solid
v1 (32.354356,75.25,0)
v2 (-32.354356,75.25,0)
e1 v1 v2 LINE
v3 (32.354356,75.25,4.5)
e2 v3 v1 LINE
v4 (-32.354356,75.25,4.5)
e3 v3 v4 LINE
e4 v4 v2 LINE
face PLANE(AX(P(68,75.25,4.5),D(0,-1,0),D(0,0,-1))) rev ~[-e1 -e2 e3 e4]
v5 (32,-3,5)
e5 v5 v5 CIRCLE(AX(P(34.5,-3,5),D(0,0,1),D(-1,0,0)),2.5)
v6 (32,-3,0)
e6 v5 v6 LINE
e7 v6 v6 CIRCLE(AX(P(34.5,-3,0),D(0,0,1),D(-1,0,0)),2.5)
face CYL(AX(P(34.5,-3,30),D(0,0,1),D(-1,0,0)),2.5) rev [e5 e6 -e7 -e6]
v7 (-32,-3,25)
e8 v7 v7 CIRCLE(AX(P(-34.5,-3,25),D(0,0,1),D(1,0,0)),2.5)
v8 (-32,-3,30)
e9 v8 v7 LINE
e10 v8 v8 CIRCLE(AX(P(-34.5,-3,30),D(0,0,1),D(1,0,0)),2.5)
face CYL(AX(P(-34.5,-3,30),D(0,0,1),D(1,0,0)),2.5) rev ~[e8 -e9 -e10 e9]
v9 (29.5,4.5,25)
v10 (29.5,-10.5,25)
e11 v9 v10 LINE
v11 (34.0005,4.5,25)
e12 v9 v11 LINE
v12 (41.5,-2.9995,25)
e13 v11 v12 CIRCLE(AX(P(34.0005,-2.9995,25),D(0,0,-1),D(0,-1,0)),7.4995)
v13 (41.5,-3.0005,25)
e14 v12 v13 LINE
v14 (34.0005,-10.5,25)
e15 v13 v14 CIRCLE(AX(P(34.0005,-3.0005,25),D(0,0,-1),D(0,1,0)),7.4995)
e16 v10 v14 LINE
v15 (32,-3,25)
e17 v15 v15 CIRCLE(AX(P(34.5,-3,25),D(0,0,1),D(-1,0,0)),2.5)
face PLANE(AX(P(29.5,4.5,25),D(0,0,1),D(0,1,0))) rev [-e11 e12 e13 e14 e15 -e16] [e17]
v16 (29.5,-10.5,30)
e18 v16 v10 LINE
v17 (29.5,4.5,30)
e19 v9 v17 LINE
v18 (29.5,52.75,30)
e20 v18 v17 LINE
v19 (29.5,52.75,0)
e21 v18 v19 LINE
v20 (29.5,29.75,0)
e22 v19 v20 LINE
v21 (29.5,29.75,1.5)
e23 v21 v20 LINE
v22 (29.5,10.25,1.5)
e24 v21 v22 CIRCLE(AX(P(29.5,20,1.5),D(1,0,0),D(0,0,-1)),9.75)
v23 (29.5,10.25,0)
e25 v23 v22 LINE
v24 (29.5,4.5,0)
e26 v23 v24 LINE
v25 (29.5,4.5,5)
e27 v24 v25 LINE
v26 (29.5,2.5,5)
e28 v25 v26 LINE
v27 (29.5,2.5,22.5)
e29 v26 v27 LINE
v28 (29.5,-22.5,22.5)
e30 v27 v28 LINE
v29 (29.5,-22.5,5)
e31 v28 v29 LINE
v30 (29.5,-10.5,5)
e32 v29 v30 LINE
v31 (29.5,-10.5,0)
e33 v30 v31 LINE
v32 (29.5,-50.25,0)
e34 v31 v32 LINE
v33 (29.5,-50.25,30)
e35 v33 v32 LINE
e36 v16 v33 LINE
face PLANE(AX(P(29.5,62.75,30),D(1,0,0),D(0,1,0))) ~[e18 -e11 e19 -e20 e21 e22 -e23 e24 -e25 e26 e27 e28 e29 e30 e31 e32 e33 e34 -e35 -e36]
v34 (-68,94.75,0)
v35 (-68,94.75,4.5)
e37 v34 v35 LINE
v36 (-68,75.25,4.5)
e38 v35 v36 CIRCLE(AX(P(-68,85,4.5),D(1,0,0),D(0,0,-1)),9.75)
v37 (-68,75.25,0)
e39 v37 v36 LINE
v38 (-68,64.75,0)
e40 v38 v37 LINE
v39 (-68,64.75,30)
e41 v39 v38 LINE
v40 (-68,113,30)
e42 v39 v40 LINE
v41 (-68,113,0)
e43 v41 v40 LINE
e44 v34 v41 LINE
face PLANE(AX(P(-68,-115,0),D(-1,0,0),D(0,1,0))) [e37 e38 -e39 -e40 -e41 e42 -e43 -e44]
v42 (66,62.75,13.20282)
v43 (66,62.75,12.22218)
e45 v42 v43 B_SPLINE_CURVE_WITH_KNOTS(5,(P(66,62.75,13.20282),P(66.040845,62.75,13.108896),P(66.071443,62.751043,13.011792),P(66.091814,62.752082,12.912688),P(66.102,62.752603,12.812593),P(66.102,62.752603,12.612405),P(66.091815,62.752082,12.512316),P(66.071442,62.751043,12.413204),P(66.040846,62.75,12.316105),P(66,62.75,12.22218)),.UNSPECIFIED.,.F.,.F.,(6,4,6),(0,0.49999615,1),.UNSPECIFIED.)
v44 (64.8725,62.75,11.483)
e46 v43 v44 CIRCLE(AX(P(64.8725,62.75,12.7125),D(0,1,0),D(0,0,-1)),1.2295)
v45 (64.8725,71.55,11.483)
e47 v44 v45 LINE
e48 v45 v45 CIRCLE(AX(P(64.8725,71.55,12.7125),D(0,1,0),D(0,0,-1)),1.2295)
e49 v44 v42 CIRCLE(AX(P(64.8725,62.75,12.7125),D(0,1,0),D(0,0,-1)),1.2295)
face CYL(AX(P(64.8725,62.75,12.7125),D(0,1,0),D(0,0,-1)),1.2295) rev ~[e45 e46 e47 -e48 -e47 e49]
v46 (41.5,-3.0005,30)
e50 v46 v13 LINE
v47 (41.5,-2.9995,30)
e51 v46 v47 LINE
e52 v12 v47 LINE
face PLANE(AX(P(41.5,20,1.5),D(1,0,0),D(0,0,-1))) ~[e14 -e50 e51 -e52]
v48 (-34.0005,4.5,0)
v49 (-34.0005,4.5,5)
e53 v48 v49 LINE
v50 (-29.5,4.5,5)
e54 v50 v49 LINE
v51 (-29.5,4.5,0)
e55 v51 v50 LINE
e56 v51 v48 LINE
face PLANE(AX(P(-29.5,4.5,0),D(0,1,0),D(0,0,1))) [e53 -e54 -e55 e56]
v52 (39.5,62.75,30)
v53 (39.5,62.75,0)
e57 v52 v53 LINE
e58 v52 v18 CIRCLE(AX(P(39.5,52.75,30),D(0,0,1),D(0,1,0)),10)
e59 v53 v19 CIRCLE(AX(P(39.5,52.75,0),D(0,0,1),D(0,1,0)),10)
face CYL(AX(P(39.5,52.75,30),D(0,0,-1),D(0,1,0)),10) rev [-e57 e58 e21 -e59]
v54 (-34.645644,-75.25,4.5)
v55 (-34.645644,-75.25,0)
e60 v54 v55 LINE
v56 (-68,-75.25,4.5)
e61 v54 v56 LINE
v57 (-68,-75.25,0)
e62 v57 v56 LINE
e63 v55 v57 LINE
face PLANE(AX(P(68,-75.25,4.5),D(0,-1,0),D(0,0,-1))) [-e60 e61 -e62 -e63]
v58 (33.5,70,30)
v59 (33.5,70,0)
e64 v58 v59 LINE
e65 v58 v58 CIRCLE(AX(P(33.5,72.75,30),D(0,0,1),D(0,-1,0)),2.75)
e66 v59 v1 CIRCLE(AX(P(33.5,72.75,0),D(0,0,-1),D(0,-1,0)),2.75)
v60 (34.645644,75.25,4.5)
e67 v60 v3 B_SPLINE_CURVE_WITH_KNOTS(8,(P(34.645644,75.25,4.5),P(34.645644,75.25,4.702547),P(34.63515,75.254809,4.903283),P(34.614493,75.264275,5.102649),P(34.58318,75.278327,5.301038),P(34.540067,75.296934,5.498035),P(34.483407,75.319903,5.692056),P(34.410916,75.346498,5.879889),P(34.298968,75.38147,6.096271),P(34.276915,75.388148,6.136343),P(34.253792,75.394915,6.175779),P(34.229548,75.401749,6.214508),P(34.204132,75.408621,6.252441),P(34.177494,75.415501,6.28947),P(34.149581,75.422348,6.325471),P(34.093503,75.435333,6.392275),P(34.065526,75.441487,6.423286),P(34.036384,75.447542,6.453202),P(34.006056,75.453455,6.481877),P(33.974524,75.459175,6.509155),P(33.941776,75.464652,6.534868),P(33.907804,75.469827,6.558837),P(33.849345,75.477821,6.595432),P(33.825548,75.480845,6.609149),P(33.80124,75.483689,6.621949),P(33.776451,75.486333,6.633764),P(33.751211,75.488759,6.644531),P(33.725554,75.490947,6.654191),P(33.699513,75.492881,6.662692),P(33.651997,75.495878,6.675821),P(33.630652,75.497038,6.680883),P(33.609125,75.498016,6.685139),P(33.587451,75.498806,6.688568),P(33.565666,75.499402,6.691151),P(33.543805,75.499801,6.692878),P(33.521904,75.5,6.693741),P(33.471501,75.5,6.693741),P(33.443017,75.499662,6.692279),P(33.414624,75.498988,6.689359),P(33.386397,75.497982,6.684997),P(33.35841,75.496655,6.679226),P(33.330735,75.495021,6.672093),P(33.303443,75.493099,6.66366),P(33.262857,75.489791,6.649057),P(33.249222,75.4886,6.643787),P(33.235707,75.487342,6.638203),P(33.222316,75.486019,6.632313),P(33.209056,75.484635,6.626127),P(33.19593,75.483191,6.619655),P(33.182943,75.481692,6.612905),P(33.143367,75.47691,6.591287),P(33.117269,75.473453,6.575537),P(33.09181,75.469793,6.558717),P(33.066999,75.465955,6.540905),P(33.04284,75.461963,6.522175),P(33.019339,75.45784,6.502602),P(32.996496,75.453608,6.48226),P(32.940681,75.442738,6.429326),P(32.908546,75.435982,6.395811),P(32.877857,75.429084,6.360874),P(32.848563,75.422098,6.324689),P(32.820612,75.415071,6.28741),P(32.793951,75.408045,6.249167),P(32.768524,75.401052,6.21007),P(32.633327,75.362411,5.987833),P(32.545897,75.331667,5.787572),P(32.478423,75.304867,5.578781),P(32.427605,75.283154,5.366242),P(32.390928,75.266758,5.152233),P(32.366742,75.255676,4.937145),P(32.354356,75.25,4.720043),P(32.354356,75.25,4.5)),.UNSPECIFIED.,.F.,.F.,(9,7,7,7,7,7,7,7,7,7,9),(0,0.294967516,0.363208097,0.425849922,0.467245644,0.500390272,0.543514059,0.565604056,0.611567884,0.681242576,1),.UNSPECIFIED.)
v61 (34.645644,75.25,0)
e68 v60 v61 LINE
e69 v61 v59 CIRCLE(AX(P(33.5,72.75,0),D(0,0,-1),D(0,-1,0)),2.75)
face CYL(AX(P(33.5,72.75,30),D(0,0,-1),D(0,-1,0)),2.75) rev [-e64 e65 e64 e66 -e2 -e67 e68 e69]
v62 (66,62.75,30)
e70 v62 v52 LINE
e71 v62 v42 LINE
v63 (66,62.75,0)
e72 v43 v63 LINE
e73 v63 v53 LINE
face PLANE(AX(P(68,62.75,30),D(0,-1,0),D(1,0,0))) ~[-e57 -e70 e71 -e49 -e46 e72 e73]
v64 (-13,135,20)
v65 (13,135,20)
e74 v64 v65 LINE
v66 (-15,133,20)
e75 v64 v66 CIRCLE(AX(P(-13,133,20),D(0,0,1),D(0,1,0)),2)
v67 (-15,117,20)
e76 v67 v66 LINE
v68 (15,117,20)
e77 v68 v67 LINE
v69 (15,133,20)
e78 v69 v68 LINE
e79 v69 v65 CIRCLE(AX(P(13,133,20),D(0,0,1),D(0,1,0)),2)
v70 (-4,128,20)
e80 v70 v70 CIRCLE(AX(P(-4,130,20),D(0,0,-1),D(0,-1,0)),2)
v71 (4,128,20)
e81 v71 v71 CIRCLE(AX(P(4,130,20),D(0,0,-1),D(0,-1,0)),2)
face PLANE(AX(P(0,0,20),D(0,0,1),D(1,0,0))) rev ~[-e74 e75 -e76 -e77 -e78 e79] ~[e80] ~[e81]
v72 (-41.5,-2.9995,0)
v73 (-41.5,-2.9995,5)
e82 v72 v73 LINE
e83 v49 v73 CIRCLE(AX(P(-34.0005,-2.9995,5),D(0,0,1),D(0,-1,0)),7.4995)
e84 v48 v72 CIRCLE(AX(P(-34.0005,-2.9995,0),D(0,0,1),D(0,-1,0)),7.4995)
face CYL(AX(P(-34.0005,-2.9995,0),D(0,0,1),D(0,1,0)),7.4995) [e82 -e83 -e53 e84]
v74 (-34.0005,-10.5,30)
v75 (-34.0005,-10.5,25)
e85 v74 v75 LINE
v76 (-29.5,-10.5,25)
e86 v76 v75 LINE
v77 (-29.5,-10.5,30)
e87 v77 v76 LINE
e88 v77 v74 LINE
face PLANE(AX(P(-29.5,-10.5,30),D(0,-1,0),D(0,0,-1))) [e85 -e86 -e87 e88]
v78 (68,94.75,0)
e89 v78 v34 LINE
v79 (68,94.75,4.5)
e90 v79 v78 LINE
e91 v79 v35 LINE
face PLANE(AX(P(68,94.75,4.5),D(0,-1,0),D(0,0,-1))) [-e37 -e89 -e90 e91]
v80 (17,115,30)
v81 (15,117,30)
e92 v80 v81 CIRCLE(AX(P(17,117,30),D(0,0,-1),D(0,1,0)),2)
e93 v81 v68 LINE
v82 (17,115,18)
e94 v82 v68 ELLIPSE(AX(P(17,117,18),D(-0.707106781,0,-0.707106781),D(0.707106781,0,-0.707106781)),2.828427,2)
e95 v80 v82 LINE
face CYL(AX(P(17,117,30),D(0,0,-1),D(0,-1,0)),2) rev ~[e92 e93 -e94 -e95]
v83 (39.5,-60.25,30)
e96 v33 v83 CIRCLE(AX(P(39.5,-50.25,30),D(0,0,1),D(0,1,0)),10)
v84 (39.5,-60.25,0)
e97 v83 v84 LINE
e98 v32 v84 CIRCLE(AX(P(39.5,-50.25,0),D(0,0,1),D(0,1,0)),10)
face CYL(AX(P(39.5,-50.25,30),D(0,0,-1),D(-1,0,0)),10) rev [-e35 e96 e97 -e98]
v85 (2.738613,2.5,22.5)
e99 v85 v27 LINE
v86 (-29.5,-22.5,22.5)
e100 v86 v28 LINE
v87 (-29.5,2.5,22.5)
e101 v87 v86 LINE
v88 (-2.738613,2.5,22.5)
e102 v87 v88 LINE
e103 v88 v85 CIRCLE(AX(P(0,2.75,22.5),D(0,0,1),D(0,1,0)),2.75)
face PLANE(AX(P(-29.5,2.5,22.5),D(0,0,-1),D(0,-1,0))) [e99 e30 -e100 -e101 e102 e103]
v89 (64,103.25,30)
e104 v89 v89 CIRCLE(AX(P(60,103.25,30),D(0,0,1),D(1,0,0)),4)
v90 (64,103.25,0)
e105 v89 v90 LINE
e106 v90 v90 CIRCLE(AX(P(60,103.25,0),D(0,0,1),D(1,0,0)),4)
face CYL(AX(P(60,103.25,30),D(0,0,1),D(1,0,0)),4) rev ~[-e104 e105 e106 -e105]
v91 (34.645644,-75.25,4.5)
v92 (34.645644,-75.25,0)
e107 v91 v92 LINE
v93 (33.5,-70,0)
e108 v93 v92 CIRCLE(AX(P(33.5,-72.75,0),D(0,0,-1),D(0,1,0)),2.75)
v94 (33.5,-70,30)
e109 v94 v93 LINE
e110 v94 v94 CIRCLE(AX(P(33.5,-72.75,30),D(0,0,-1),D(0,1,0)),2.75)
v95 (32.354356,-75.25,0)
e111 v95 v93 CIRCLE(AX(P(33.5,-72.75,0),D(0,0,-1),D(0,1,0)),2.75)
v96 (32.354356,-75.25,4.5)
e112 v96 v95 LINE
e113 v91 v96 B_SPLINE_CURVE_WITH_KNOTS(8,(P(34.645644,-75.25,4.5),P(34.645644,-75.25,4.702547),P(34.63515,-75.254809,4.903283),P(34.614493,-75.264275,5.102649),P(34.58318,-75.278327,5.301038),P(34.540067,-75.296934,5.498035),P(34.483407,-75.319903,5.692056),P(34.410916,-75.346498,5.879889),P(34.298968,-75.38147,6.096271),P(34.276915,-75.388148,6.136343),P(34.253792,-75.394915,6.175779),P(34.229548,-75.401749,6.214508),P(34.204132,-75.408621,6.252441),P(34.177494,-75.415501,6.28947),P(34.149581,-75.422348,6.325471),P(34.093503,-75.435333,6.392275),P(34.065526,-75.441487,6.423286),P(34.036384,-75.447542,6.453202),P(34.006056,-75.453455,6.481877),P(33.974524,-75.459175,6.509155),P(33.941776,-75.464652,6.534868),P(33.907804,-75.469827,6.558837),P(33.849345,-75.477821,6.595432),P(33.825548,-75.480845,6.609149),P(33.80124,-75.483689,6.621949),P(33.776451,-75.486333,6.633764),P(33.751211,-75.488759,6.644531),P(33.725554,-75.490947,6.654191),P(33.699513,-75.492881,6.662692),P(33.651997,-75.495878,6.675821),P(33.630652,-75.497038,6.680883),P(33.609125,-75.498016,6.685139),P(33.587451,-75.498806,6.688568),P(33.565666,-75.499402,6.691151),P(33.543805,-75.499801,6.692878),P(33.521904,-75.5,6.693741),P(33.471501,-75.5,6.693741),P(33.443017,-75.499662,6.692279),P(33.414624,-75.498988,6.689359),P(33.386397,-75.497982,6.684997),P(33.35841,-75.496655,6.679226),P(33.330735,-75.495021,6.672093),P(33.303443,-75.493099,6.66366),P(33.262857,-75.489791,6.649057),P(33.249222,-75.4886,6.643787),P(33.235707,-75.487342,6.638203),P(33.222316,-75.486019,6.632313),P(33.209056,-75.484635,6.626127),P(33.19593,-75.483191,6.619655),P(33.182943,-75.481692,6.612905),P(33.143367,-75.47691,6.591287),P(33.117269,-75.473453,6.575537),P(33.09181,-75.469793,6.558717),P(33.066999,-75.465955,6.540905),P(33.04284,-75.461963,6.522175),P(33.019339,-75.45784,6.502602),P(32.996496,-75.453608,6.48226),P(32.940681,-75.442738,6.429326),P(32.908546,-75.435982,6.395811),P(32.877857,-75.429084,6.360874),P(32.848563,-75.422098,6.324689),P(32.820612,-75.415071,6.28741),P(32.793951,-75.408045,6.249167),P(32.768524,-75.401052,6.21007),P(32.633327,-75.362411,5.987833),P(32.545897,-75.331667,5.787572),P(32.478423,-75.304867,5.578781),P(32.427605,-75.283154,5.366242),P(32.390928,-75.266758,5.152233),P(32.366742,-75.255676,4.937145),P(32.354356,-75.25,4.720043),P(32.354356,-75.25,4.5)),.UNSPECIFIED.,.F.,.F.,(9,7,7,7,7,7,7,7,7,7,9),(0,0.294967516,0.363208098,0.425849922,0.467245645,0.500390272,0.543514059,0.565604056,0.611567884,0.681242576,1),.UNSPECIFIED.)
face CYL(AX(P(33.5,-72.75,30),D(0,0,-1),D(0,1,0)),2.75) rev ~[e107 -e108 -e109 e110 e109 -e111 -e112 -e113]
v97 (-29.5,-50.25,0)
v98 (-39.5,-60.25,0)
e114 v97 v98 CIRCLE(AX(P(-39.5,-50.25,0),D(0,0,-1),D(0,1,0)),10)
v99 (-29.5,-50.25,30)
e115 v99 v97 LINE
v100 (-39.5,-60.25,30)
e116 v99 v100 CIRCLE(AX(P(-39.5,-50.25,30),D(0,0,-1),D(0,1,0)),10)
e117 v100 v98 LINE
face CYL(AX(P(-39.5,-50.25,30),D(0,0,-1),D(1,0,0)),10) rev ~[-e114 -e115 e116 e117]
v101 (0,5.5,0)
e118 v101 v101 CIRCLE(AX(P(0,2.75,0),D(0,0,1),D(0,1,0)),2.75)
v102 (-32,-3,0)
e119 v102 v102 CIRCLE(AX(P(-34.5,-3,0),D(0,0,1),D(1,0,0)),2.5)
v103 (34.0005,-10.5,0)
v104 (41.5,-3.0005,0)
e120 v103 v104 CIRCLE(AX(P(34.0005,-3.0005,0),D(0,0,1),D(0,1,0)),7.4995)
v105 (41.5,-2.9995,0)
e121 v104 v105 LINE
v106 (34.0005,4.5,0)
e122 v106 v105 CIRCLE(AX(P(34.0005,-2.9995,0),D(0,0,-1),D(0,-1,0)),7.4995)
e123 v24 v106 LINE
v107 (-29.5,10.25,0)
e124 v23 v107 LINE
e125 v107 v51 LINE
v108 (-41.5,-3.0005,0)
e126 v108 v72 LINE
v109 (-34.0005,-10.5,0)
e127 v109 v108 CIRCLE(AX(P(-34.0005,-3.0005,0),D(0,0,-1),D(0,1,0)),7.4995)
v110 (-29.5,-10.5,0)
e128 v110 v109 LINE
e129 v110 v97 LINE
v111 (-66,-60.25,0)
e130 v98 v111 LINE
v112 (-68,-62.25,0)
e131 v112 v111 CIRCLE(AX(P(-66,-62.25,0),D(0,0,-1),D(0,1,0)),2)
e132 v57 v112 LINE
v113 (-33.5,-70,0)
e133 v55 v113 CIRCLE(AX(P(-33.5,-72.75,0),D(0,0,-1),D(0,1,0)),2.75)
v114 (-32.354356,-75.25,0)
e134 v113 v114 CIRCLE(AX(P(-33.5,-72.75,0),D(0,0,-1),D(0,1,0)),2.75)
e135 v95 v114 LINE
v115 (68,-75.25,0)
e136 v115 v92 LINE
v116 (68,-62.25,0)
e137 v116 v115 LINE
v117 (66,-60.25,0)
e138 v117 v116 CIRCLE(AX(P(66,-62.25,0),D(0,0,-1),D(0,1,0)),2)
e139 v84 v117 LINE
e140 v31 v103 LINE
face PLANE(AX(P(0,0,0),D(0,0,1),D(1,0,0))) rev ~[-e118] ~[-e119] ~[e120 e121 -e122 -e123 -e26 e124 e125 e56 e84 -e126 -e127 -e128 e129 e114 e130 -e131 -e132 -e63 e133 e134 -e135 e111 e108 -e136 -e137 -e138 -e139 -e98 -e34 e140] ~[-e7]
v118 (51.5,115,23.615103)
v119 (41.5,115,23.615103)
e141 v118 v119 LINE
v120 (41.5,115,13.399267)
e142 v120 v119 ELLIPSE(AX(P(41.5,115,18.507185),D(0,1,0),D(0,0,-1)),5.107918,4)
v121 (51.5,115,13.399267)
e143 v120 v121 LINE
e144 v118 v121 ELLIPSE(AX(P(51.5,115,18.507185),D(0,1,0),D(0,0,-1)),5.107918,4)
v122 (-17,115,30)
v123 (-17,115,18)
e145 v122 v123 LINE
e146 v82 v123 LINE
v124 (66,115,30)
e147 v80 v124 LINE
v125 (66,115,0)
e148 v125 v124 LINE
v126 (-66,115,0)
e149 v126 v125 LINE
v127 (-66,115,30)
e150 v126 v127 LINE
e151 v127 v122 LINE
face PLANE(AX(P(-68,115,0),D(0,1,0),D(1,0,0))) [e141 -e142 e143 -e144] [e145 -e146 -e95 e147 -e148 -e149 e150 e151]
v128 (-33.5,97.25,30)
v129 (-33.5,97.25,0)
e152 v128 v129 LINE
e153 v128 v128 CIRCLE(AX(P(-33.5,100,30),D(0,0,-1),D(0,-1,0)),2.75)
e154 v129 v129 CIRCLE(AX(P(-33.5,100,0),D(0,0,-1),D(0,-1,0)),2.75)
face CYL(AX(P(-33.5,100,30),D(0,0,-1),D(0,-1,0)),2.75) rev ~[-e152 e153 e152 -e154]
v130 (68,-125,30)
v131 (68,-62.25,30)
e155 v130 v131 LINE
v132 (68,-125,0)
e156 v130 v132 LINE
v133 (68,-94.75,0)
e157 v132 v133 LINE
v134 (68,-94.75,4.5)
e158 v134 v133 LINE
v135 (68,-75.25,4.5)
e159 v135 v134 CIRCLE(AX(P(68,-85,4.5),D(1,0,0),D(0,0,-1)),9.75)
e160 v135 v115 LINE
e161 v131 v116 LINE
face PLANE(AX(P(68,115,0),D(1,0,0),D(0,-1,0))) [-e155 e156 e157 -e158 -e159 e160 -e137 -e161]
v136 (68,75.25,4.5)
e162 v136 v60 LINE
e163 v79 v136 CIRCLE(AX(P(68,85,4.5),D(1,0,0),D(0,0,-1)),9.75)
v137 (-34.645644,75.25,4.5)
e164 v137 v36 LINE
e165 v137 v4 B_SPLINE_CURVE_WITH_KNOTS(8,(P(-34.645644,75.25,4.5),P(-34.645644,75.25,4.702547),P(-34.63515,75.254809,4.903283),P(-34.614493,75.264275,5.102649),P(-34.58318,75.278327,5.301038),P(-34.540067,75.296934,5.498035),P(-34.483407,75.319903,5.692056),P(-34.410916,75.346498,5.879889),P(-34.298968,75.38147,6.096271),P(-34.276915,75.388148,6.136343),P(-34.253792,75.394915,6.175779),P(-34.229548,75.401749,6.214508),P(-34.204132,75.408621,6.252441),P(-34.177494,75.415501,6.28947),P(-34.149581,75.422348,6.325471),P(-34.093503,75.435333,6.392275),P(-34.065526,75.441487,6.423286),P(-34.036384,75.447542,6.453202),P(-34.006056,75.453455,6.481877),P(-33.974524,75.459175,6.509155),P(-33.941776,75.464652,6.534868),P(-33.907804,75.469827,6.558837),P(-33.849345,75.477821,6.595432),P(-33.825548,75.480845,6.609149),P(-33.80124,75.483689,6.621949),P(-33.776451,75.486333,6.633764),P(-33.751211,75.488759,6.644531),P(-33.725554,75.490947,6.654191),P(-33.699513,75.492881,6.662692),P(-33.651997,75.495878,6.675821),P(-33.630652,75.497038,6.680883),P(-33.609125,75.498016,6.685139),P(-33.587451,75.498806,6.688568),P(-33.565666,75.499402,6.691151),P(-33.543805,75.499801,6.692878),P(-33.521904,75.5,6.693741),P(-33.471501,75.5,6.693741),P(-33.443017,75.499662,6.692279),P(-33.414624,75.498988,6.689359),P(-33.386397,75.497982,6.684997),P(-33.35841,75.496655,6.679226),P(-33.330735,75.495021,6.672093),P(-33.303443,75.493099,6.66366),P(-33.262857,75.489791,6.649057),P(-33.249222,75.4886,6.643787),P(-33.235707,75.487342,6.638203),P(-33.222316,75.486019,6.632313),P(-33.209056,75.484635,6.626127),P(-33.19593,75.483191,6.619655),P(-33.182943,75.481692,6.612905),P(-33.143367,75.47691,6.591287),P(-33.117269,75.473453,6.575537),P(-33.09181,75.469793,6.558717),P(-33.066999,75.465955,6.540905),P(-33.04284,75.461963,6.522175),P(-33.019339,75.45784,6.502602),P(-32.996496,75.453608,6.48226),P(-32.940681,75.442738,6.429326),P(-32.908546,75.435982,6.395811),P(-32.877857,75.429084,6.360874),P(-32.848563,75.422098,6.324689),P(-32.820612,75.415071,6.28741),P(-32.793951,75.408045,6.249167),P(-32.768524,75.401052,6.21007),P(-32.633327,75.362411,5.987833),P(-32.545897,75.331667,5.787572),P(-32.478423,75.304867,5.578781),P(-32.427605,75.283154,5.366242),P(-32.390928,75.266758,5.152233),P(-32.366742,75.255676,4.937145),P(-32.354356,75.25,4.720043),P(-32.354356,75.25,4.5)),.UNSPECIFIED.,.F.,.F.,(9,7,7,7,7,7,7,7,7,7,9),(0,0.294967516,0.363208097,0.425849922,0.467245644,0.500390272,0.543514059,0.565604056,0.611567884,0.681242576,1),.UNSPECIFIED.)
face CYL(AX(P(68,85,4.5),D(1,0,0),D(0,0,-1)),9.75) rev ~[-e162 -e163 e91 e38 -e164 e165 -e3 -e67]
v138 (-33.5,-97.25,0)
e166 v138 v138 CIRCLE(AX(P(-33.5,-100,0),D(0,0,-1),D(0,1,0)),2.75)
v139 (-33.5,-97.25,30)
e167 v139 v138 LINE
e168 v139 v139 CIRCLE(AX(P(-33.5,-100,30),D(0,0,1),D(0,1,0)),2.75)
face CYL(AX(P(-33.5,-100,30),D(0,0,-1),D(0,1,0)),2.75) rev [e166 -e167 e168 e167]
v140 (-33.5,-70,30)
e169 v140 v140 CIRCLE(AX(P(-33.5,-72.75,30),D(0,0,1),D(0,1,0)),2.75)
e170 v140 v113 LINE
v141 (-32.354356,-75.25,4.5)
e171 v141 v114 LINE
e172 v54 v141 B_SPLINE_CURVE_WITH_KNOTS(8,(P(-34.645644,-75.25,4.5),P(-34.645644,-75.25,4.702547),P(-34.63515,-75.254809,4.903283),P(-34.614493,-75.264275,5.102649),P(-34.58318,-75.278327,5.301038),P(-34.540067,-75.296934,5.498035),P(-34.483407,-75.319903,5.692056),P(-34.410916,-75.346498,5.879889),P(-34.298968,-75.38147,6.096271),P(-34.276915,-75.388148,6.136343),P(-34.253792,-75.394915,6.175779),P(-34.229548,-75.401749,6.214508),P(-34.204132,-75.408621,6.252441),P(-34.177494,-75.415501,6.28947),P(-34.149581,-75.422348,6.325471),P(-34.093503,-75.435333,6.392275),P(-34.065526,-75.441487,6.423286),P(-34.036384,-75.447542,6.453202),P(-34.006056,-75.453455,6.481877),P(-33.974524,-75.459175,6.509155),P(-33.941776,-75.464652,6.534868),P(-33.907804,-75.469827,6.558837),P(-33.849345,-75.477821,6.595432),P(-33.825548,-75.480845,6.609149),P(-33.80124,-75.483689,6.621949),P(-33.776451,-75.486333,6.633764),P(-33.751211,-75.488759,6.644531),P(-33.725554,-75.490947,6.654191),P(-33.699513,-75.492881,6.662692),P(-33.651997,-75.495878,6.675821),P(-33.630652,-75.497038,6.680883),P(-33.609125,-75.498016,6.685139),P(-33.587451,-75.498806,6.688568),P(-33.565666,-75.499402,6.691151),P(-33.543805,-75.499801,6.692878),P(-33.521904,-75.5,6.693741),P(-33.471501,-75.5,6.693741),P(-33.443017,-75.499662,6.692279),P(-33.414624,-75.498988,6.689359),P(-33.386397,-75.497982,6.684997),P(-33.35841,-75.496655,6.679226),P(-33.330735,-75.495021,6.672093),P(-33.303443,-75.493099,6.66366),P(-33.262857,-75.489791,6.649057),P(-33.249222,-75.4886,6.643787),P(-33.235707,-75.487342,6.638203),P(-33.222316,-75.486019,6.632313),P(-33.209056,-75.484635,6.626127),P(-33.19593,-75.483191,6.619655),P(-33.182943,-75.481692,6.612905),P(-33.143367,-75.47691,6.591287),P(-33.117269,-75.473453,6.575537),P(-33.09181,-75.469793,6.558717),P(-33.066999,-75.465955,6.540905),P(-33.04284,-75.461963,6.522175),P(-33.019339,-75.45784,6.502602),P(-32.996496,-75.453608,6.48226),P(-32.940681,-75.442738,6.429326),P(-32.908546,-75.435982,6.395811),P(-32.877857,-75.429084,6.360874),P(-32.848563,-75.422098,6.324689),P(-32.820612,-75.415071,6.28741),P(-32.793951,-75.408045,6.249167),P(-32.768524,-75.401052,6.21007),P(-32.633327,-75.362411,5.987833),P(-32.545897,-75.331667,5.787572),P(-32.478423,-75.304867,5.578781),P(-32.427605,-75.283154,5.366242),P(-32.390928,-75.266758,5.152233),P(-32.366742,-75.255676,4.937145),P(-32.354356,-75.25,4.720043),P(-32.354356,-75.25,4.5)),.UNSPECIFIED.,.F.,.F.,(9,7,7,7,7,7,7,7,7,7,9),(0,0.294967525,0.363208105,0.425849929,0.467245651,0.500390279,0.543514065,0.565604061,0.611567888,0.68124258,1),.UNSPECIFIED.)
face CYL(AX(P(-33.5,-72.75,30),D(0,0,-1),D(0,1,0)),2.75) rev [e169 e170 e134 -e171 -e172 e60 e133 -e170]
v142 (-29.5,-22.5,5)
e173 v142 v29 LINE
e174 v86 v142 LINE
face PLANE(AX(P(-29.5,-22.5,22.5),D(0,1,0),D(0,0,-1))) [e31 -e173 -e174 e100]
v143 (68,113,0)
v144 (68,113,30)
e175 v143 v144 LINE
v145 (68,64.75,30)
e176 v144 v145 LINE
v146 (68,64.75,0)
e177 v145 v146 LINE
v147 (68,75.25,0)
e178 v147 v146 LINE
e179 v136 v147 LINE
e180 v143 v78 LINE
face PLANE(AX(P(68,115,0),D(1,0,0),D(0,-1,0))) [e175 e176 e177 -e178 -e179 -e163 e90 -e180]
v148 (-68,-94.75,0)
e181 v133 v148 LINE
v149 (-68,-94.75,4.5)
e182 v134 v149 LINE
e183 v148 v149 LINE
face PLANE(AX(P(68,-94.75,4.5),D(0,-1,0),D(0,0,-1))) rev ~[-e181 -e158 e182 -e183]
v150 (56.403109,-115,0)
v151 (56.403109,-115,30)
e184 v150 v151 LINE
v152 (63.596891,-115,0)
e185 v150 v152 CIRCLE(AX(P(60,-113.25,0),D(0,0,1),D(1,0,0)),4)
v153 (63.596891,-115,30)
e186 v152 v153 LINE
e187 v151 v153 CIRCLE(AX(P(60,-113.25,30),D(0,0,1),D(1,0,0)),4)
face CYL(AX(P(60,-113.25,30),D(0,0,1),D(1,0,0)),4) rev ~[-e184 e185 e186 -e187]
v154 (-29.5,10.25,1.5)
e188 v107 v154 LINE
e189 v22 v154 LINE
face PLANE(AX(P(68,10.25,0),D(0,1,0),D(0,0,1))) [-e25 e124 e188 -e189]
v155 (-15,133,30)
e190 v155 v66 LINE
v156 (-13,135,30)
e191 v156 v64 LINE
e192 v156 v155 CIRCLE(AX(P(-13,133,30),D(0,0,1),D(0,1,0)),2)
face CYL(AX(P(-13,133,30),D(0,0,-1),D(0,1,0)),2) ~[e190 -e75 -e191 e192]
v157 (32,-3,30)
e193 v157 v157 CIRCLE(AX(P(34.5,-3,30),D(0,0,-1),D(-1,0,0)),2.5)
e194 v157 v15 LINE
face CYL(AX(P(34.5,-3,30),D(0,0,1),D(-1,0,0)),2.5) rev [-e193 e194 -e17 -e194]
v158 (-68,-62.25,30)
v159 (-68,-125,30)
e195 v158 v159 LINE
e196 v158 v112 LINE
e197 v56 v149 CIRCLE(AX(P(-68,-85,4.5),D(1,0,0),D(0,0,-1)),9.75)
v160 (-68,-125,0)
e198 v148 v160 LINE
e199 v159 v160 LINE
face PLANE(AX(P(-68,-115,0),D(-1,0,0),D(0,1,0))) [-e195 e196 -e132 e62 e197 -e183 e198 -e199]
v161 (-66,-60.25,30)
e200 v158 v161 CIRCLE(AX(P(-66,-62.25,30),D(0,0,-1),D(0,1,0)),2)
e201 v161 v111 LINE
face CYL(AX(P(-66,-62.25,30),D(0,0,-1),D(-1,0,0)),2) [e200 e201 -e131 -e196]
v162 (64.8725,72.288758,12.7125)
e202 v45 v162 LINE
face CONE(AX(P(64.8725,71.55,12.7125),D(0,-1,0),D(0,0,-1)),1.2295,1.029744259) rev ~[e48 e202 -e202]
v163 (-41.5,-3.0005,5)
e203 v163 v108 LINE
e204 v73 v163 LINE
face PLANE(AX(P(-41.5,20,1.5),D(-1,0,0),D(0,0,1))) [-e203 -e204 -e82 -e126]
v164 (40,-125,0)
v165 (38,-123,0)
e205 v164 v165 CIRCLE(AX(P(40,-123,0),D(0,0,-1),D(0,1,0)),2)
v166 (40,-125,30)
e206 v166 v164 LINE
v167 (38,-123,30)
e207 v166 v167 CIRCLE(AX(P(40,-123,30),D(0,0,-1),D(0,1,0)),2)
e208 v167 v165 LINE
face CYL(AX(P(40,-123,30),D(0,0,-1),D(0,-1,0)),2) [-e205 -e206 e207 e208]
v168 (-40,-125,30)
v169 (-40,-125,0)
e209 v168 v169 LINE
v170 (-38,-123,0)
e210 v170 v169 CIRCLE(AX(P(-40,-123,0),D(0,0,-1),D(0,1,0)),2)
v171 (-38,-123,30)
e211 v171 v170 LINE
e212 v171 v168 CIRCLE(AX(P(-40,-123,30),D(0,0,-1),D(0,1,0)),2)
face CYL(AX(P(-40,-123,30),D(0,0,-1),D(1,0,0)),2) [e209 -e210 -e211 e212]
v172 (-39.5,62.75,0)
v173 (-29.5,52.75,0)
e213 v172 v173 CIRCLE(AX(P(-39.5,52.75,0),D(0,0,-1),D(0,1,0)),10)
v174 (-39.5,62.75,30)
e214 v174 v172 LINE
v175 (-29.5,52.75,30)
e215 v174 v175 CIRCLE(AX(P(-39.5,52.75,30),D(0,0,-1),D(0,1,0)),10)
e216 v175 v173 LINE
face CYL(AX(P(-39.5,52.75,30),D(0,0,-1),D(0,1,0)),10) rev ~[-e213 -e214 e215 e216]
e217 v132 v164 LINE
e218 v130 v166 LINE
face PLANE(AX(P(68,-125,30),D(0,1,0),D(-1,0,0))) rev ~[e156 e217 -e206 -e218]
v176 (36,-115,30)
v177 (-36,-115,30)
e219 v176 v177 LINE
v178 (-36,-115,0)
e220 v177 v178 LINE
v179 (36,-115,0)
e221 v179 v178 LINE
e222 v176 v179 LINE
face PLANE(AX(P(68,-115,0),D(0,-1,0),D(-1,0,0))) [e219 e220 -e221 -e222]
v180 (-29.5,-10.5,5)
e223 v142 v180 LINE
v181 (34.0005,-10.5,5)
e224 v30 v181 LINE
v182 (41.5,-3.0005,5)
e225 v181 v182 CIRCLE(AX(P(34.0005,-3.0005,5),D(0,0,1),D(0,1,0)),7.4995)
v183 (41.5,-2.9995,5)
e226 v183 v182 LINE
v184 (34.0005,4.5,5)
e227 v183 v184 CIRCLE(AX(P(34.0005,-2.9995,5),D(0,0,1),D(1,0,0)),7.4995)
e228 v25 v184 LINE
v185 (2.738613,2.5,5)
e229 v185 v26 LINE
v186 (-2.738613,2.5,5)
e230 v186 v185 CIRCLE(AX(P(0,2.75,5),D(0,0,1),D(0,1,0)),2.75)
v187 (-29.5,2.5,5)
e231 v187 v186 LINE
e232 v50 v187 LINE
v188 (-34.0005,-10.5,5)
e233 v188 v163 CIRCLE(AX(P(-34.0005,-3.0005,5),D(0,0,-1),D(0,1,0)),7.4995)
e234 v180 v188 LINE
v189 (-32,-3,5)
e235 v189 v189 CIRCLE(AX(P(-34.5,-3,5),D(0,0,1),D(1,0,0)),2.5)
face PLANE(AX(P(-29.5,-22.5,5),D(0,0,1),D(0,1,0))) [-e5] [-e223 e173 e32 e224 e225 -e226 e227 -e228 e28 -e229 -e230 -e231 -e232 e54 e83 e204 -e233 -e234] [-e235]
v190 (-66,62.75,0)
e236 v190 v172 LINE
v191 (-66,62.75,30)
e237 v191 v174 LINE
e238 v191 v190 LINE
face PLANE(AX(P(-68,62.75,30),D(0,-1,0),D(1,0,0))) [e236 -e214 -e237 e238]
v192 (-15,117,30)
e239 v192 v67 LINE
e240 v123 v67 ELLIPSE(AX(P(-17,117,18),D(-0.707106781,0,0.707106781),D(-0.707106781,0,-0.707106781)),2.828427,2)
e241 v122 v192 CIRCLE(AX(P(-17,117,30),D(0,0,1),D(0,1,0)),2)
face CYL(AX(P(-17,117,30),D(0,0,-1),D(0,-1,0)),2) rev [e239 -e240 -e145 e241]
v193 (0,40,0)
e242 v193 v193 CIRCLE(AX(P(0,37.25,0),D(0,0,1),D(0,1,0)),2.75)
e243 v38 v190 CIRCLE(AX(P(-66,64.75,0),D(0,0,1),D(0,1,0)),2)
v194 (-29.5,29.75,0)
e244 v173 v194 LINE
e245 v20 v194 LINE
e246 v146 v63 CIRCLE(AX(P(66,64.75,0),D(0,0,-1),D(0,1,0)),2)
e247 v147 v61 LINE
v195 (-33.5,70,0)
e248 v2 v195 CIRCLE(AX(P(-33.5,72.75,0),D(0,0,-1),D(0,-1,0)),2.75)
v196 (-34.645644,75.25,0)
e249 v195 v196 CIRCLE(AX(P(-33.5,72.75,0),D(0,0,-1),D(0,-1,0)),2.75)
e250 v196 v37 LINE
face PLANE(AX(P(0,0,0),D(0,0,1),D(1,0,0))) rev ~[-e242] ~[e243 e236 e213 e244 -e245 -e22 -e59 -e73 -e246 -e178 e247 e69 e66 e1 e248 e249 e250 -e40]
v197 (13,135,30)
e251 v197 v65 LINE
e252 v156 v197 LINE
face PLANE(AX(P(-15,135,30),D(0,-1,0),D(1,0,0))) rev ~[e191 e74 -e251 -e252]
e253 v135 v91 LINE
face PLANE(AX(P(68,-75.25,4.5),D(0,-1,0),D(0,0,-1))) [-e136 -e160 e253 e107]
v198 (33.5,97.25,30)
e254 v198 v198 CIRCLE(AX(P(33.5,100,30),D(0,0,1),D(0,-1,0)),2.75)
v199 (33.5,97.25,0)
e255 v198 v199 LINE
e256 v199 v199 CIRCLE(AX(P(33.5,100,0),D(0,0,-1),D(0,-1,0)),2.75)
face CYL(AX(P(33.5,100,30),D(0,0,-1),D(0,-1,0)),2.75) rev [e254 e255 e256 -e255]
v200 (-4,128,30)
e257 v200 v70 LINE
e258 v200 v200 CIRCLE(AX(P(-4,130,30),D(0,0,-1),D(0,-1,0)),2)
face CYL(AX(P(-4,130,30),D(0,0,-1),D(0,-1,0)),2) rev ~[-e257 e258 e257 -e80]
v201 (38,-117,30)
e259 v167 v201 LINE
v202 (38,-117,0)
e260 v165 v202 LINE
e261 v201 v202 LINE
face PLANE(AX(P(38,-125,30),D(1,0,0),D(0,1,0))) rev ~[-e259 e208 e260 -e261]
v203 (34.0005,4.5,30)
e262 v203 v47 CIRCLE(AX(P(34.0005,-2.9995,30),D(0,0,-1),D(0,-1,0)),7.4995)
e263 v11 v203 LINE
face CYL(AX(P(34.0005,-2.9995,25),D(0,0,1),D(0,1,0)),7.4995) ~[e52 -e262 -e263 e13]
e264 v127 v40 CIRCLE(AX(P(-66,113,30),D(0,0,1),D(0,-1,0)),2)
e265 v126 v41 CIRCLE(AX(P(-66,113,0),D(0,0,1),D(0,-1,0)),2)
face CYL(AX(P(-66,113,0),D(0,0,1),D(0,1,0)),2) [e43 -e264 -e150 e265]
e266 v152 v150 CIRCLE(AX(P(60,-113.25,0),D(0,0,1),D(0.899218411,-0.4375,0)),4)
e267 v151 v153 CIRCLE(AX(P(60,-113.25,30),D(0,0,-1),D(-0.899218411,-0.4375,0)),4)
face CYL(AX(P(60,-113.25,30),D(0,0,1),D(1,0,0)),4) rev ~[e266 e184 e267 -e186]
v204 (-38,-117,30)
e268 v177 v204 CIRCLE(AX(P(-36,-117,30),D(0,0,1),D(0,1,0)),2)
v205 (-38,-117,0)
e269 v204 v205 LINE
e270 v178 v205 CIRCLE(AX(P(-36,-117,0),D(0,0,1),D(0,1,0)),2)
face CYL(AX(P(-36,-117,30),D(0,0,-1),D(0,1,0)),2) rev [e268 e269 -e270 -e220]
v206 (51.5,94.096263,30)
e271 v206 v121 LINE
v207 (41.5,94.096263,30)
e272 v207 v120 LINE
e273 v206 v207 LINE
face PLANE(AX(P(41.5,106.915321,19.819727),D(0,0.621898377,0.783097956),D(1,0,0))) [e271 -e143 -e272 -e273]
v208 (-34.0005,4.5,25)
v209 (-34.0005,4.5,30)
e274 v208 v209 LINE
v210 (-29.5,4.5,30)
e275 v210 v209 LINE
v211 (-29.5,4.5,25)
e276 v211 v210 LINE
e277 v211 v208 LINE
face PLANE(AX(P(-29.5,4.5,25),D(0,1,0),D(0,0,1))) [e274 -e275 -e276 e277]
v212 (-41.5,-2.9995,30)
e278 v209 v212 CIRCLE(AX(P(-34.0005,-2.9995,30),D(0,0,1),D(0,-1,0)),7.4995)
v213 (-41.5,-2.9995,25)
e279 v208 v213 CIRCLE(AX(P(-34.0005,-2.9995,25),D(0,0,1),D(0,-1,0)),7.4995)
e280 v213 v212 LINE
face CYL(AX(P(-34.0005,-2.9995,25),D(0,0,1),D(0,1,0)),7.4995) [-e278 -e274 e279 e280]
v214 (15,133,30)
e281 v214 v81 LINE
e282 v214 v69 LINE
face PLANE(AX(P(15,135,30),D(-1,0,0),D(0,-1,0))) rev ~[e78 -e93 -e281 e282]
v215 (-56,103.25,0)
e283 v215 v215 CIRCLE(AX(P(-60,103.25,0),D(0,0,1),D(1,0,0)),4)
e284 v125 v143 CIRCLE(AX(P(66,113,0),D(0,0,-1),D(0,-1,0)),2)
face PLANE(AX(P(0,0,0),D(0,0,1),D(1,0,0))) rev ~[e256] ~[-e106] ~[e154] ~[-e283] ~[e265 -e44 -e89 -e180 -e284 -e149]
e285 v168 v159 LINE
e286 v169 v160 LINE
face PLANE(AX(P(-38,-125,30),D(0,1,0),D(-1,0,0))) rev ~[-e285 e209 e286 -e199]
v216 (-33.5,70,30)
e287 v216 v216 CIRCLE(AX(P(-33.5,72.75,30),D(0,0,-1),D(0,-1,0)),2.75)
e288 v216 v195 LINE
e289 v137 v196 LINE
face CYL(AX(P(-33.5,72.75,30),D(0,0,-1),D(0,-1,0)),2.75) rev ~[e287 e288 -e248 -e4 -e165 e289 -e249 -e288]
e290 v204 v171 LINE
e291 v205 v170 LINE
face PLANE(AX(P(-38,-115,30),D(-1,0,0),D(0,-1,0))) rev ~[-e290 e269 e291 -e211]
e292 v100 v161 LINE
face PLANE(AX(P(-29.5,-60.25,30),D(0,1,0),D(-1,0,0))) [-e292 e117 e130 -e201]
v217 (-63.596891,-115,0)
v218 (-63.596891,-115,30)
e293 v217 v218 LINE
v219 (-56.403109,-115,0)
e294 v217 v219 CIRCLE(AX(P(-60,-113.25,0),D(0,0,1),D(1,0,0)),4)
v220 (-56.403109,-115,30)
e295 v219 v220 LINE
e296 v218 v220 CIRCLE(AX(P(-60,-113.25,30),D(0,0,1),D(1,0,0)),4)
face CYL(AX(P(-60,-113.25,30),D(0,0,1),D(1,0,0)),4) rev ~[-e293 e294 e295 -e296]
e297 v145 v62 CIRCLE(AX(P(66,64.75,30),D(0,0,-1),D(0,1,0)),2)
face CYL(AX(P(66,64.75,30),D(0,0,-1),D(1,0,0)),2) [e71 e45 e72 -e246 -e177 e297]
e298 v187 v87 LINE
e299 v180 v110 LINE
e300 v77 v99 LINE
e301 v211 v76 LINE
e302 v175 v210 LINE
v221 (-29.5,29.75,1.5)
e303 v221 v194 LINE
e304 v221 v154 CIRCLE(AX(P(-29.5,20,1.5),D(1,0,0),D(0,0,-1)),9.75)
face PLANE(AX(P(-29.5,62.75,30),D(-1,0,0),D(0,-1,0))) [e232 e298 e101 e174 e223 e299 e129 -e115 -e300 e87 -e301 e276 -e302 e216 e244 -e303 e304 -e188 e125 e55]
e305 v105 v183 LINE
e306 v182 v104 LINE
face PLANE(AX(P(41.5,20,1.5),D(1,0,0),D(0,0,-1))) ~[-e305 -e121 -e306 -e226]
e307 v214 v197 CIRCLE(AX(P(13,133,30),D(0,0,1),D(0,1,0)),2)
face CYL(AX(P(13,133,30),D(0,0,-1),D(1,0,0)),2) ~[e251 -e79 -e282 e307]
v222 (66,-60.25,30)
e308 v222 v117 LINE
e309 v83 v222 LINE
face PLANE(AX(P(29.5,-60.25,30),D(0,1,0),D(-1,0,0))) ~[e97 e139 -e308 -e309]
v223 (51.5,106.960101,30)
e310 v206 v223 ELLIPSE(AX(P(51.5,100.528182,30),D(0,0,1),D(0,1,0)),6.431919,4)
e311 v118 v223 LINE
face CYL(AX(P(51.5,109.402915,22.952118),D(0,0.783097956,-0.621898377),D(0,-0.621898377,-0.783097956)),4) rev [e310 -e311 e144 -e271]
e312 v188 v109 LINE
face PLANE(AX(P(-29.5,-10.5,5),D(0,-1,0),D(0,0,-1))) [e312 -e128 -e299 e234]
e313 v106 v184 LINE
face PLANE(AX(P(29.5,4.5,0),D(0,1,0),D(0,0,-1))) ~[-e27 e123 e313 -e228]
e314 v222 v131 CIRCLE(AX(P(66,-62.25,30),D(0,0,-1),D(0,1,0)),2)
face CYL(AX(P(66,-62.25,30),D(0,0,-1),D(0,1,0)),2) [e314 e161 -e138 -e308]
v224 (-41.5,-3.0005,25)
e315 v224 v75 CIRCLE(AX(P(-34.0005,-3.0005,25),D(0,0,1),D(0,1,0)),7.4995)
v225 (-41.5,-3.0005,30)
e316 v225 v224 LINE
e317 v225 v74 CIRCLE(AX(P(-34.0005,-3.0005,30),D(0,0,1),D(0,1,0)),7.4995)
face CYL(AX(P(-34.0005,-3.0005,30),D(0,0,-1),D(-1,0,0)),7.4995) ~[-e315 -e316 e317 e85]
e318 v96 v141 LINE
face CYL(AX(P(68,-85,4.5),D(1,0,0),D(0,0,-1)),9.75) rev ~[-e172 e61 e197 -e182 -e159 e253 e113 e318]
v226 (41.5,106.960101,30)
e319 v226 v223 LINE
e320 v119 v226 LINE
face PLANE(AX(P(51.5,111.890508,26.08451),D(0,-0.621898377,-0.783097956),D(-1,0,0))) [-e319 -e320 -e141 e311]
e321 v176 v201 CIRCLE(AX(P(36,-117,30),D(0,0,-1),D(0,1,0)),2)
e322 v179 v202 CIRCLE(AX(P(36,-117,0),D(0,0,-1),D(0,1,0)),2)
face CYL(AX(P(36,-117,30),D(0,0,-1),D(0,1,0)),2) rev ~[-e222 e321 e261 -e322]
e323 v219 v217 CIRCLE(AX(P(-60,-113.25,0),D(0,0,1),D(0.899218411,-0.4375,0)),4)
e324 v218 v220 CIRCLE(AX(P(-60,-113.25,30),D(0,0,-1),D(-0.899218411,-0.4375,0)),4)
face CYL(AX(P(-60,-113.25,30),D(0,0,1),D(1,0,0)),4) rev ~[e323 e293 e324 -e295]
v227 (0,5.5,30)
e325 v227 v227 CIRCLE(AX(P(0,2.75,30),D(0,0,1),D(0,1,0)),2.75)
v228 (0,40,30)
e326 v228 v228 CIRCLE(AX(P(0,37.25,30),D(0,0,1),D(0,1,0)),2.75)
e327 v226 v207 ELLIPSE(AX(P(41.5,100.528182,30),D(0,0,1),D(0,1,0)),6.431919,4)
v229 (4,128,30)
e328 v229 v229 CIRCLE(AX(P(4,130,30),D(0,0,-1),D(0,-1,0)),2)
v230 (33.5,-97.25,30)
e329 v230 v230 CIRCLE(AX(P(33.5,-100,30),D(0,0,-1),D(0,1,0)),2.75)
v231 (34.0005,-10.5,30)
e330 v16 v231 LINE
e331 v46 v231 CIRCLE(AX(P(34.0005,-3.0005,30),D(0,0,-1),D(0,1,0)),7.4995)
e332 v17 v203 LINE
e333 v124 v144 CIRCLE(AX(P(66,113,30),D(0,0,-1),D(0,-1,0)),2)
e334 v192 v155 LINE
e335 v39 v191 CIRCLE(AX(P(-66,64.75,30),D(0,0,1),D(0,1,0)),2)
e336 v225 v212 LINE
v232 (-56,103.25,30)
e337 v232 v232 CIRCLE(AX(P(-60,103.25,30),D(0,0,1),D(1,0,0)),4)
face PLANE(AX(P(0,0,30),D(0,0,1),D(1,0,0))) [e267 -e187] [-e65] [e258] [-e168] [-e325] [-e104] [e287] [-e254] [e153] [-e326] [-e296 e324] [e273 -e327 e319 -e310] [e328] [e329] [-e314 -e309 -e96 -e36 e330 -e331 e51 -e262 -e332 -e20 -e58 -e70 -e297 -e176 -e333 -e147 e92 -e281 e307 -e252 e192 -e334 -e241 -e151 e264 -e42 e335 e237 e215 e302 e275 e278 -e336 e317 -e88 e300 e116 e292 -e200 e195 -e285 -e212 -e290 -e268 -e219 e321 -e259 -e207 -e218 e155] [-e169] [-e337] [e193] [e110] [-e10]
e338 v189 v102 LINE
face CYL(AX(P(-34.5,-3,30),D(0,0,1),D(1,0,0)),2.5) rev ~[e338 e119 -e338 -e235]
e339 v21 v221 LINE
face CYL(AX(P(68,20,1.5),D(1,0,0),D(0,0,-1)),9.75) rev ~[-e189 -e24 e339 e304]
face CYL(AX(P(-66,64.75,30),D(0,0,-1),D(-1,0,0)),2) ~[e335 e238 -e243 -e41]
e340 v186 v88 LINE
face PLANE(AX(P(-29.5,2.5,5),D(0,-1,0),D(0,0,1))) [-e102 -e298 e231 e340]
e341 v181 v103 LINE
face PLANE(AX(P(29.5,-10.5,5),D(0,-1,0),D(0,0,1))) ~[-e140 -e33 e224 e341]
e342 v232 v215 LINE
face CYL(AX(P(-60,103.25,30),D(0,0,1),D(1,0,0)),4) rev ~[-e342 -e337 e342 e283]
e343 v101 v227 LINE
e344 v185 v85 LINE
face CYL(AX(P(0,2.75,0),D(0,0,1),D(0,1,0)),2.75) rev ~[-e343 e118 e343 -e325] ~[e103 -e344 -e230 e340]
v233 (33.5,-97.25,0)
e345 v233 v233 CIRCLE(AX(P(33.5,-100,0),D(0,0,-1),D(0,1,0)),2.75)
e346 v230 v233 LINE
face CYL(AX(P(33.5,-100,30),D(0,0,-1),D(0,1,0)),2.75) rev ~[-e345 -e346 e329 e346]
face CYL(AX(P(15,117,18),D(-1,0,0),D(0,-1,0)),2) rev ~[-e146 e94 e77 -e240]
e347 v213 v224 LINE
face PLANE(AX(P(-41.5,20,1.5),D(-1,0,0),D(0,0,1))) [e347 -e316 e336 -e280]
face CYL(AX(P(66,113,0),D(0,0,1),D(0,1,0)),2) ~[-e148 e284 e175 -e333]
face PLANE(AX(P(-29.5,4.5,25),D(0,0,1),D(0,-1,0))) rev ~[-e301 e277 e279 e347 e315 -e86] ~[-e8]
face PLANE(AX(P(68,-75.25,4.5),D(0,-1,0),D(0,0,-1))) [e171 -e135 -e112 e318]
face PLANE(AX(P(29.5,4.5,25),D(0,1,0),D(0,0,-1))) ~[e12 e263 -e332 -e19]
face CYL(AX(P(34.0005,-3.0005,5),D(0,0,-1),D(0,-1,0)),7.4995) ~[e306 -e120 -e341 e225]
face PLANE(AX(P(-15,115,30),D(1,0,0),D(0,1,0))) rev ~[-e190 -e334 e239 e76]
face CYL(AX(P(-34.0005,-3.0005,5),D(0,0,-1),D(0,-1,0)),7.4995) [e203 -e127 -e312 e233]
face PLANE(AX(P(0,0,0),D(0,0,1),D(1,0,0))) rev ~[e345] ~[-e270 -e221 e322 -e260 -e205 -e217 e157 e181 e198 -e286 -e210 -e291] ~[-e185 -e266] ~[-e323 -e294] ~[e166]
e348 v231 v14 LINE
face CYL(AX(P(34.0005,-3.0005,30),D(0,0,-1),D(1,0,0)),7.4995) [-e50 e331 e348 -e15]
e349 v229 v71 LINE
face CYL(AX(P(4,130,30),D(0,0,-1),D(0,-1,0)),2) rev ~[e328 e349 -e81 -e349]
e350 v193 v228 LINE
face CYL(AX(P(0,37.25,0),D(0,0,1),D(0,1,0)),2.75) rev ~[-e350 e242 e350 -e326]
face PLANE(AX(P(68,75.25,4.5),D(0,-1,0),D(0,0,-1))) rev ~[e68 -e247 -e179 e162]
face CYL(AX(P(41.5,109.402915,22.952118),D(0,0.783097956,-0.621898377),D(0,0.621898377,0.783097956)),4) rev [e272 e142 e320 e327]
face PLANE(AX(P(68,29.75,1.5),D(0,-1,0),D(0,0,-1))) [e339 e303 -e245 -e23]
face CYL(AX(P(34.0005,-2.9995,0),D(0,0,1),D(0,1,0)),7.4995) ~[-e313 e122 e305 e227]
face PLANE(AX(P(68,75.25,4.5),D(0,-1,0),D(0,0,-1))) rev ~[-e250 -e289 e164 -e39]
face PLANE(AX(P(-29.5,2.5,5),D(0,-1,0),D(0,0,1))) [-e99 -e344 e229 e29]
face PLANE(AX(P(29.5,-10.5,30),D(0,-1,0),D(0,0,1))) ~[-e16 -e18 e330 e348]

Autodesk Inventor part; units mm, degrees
ref_plane "YZ Plane" through (0, 0, 0) normal (1, 0, 0) x (0, 1, 0)
ref_plane "XZ Plane" through (0, 0, 0) normal (0, 1, 0) x (-1, 0, 0)
sketch "Sketch1" plane through (0, 0, 0) normal (0, 0, 1) x (1, 0, 0)
  line L0 (-68, 115) -> (68, 115)
  line L1 (68, 115) -> (68, -115)
  line L2 (68, -115) -> (-68, -115)
  line L3 (-68, -115) -> (-68, 115)
  point P0 (0, 0)
  point P1 (0, 115)
  point P2 (-68, 0)
  dimension "d0" = 230
  dimension "d1" = 136
extrude "Extrusion1" add sketch "Sketch1" along normal blind 30
sketch "Sketch2" plane through (68, -115, 0) normal (1, 0, 0) x (0, 0, -1)
  circle A0 centre (-4.5, 200) radius 9.75
  circle A1 centre (-4.5, 30) radius 9.75
  line L0 (0, 0) -> (-30, 0) projected
  line L1 (0, 0) -> (0, 230) projected
  line L2 (0, 230) -> (-30, 230) projected
  line L3 (-4.5, 209.75) -> (0, 209.75)
  line L4 (-4.5, 190.25) -> (0, 190.25)
  line L5 (-4.5, 39.75) -> (0, 39.75)
  line L6 (-4.5, 20.25) -> (0, 20.25)
  circle A2 centre (-4.5, 30) radius 9.5 projected
  circle A3 centre (-1.5, 135) radius 9.75
  line L7 (-1.5, 144.75) -> (0, 144.75)
  line L8 (0, 125.25) -> (-7.2448, 125.25)
  line L9 (0, 115) -> (-19.3851, 115) construction
  point P0 (-3.9143, 138.0947)
  point P1 (0, 191.3506)
  point P2 (0, 208.6494)
  point P3 (0, 38.6494)
  point P4 (0, 21.3506)
  point P5 (-1.5, 125.25)
  point P6 (0, 125.3661)
  point P7 (0, 144.6339)
  dimension "d4" = 30
  dimension "d6" = 19.5
  dimension "d7" = 30
  dimension "d19" = 4.5
  dimension "d20" = 1.5
  dimension "d28" = 20
extrude "Extrusion2" cut sketch "Sketch2" against normal through all
sketch "Sketch3" plane through (0, 0, 30) normal (0, 0, 1) x (1, 0, 0)
  circle A0 centre (-60, 103.25) radius 4
  circle A1 centre (60, 103.25) radius 4
  circle A2 centre (60, -113.25) radius 4
  circle A3 centre (-60, -113.25) radius 4
  line L0 (68, 115) -> (-68, 115) projected
  line L1 (-68, 115) -> (-68, -115) projected
  line L2 (68, -115) -> (68, 115) projected
  line L3 (-68, -115) -> (68, -115) projected
  point P0 (0, 0)
  dimension "d10" = 11.75
  dimension "d11" = 8
  dimension "d12" = 8
  dimension "d13" = 8
  dimension "d14" = 1.75
extrude "Extrusion3" cut sketch "Sketch3" against normal through all contours A0 | A1 | A2 L3 | L3 A2 | L3 A3 | A3 L3
sketch "Sketch5" plane through (0, 0, 30) normal (0, 0, 1) x (1, 0, 0)
  line L0 (-68, 75.25) -> (68, 75.25) projected
  line L1 (68, -75.25) -> (-68, -75.25) projected
  line L2 (-68, 62.75) -> (-29.5, 62.75)
  line L3 (-29.5, 62.75) -> (-29.5, -60.25)
  line L4 (-29.5, -60.25) -> (-68, -60.25)
  line L5 (-68, -60.25) -> (-68, 62.75)
  line L6 (-14.5, 30.7059) -> (14.5, 30.7059) construction
  line L7 (-68, 115) -> (-68, -115) construction
  point P0 (0, 0)
  point P1 (0, 30.7059)
  dimension "d21" = 29
  dimension "d22" = 15
  dimension "d23" = 12.5
  dimension "d24" = 15
extrude "Extrusion4" cut sketch "Sketch5" against normal blind 47
mirror "Mirror1" about plane through (0, 0, 0) normal (1, 0, 0) of "Extrusion4"
sketch "Sketch6" plane through (-29.5, 20, 1.5) normal (-1, 0, 0) x (0, 0, 1)
  line L0 (-1.5, -80.25) -> (-1.5, -9.75) projected
  line L1 (28.5, -80.25) -> (28.5, 42.75) projected
  line L2 (-1.5, -15.5) -> (28.5, -15.5)
  line L3 (28.5, -15.5) -> (28.5, -30.5)
  line L4 (28.5, -30.5) -> (-1.5, -30.5)
  line L5 (-1.5, -30.5) -> (-1.5, -15.5)
  line L6 (-1.5, -23) -> (28.5, -23) construction
  line L7 (-1.5, -15.5) -> (3.5, -15.5)
  line L8 (3.5, -15.5) -> (3.5, -30.5)
  line L9 (3.5, -30.5) -> (-1.5, -30.5)
  line L10 (-1.5, -30.5) -> (-1.5, -15.5)
  line L11 (28.5, -15.5) -> (23.5, -15.5)
  line L12 (23.5, -15.5) -> (23.5, -30.5)
  line L13 (23.5, -30.5) -> (28.5, -30.5)
  line L14 (28.5, -30.5) -> (28.5, -15.5)
  point P0 (-1.5, -20)
  point P1 (-1.5, -70.25)
  point P2 (28.5, -70.25)
  point P3 (28.5, 30.25)
  point P4 (-1.5, -30.5)
  point P5 (28.5, -15.5)
  point P6 (23.5, -15.5)
  point P7 (3.5, -15.5)
  dimension "d29" = 15
  dimension "d31" = 3
  dimension "d38" = 5
  dimension "d39" = 5
extrude "Extrusion5" add sketch "Sketch6" along normal blind 12 contours L0 L2 L8 L4 | L12 L2 L1 L4
sketch "Sketch8" plane through (0, 0, 30) normal (0, 0, 1) x (1, 0, 0)
  circle A0 centre (-34.5, -3) radius 2.5
  line L0 (-29.5, 62.75) -> (-29.5, 4.5) projected
  line L1 (-41.5, -10.5) -> (-41.5, 4.5) projected
  point P0 (0, 0)
  point P1 (-29.5, 50.25)
  point P2 (-41.5, -3)
  dimension "d40" = 5
  dimension "d41" = 5
extrude "Extrusion6" cut sketch "Sketch8" against normal through all
fillet "Fillet2" radius 7.5 4 edges at (-41.5, 4.5, 27.5) (-41.5, -10.5, 27.5) (-41.5, 4.5, 2.5) (-41.5, -10.5, 2.5)
mirror "Mirror2" about plane through (0, 0, 0) normal (1, 0, 0) of "Extrusion5", "Extrusion6", "Fillet2"
sketch "Sketch9" plane through (0, 0, 30) normal (0, 0, 1) x (1, 0, 0)
  circle A0 centre (-60, 103.25) radius 4 projected
  line L0 (68, 115) -> (-68, 115) projected
  line L1 (68, 94.75) -> (-68, 94.75) projected
  line L2 (-68, 75.25) -> (68, 75.25) projected
  line L3 (-68, 62.75) -> (-29.5, 62.75) projected
  line L4 (-68, 115) -> (-68, -115) projected
  point P0 (0, 0)
  point P1 (-33.5, 100)
  point P2 (-33.5, 72.75)
  point P3 (-58, 60.25)
  point P4 (-39.5, 60.25)
  point P5 (-68, 70.25)
  point P6 (-29.5, 62.75)
  dimension "d59" = 15
  dimension "d60" = 10
  dimension "d70" = 34.5
hole "Hole1" at (-33.5, 100, 30) at (-33.5, 72.75, 30) direction (0, 0, -1) diameter 5.5 end through all
mirror "Mirror3" about plane through (0, 0, 0) normal (1, 0, 0) of "Hole1"
mirror "Mirror4" about plane through (0, 0, 0) normal (0, 1, 0) of "Hole1", "Mirror3"
sketch "Sketch10" plane through (0, 0, 0) normal (0, 0, -1) x (-1, 0, 0)
  line L0 (-29.5, 29.75) -> (29.5, 29.75) projected
  line L1 (29.5, 10.25) -> (-29.5, 10.25) projected
  point P0 (0, 0)
  point P1 (0, 37.25)
  point P2 (0, 2.75)
  dimension "d61" = 7.5
  dimension "d62" = 7.5
hole "Hole2" at (0, 37.25, 0) at (0, 2.75, 0) direction (0, 0, 1) diameter 5.5 end through all
sketch "Sketch11" plane through (-29.5, 20, 1.5) normal (-1, 0, 0) x (0, 0, 1)
  line L0 (3.5, -17.5) -> (21, -17.5)
  line L1 (21, -17.5) -> (21, -42.5)
  line L2 (21, -42.5) -> (3.5, -42.5)
  line L3 (3.5, -42.5) -> (3.5, -17.5)
  line L4 (-1.5, 95) -> (28.5, 95) projected
  line L5 (3.5, -15.5) -> (-1.5, -15.5) projected
  line L6 (23.5, -30.5) -> (28.5, -30.5) projected
  line L7 (23.5, -30.5) -> (23.5, -15.5) projected
  line L8 (3.5, -15.5) -> (3.5, -30.5) projected
  point P0 (-1.5, -20)
  point P1 (13.5, 95)
  dimension "d78" = 2.5
  dimension "d79" = 0
  dimension "d80" = 25
  dimension "d81" = 112.5
extrude "Extrusion7" cut sketch "Sketch11" against normal through all
sketch "Sketch13" plane through (0, 0, 30) normal (0, 0, 1) x (1, 0, 0)
  line L0 (-15, 135) -> (15, 135)
  line L1 (15, 135) -> (15, 115)
  line L2 (15, 115) -> (-15, 115)
  line L3 (-15, 115) -> (-15, 135)
  line L4 (68, 115) -> (-68, 115) projected
  point P0 (0, 0)
  point P1 (0, 135)
  point P2 (0, 115)
  point P3 (0, 115)
  dimension "d86" = 20
  dimension "d87" = 30
extrude "Extrusion9" add sketch "Sketch13" against normal blind 10
sketch "Sketch14" plane through (0, 0, 30) normal (0, 0, 1) x (1, 0, 0)
  line L0 (-15, 135) -> (-15, 115) projected
  line L1 (15, 115) -> (15, 135) projected
  line L2 (0, 126.2256) -> (0, 115) construction
  line L3 (68, 115) -> (-68, 115) construction
  line L4 (15, 135) -> (-15, 135) construction
  line L5 (-15, 135) -> (15, 135) projected
  point P0 (0, 0)
  point P1 (-4, 130)
  point P2 (4, 130)
  point P3 (-15, 125)
  point P4 (15, 125)
  point P5 (0, 120.6128)
  point P6 (0, 135)
  dimension "d90" = 8
  dimension "d91" = 4
  dimension "d127" = 5
hole "Hole3" at (-4, 130, 30) at (4, 130, 30) direction (0, 0, -1) diameter 4 end through all
fillet "Fillet3" radius 2 5 edges at (15, 115, 25) (15, 135, 25) (-15, 135, 25) (-15, 115, 25) (0, 115, 20)
sketch "Sketch15" plane through (0, 0, 30) normal (0, 0, 1) x (1, 0, 0)
  line L0 (-68, -115) -> (-38, -115)
  line L1 (-38, -115) -> (-38, -125)
  line L2 (-38, -125) -> (-68, -125)
  line L3 (-68, -125) -> (-68, -115)
  line L4 (38, -115) -> (68, -115)
  line L5 (68, -115) -> (68, -125)
  line L6 (68, -125) -> (38, -125)
  line L7 (38, -125) -> (38, -115)
  line L8 (-56.4031, -115) -> (56.4031, -115) projected
  line L9 (68, -115) -> (68, 115) projected
  line L10 (-68, -60.25) -> (-68, -115) projected
  circle A0 centre (-60, -113.25) radius 4
  circle A1 centre (60, -113.25) radius 4
  arc A2 (-56.4031, -115) -> (-63.5969, -115) centre (-60, -113.25) ccw projected
  arc A3 (63.5969, -115) -> (56.4031, -115) centre (60, -113.25) ccw projected
  point P0 (0, 0)
  point P1 (68, -70.25)
  point P2 (-68, -70.25)
  dimension "d100" = 30
  dimension "d101" = 10
extrude "Extrusion10" add sketch "Sketch15" against normal up to surface (30 mm away) contours L4 A1 L5 L6 L7 | L0 A0 L1 L2 L3
fillet "Fillet4" radius 2 10 edges at (68, 115, 15) (68, 62.75, 15) (-68, 115, 15) (-68, 62.75, 15) (-68, -60.25, 15) (68, -60.25, 15) (-38, -115, 15) (-38, -125, 15) (38, -115, 15) (38, -125, 15)
fillet "Fillet5" radius 10 4 edges at (-29.5, 62.75, 15) (-29.5, -60.25, 15) (29.5, 62.75, 15) (29.5, -60.25, 15)
sketch "Sketch17" plane through (66, 62.75, 0) normal (0, -1, 0) x (1, 0, 0)
  circle A0 centre (-1.1275, 12.7125) radius 1.7875 projected
  point P0 (-66, 0)
hole "Hole5" at (64.8725, 62.75, 12.7125) direction (0, 1, 0) diameter 2.459 depth 8.8 tip angle 118 thread size "M3x0.5" class "6H" standard "ISO Metric profile"
ref_plane "Work Plane1" through (68, 115, 30) normal (0, -0.7831, 0.6219) x (-1, 0, 0)
sketch "Sketch19" plane through (68, 115, 30) normal (0, -0.7831, 0.6219) x (-1, 0, 0)
  line L0 (16.5, 9) -> (26.5, 9) construction
  line L1 (16.5, 5) -> (26.5, 5)
  line L2 (26.5, 13) -> (16.5, 13)
  arc A0 (16.5, 13) -> (16.5, 5) centre (16.5, 9) ccw
  arc A1 (26.5, 5) -> (26.5, 13) centre (26.5, 9) ccw
  line L3 (0, 1.2438) -> (0, 24.7371) projected
  line L4 (2, 0) -> (51, 0) projected
  point P0 (68, 95.0098)
  point P1 (21.5, 9)
  dimension "d120" = 10
  dimension "d121" = 8
  dimension "d122" = 21.5
  dimension "d124" = 5
extrude "Extrusion11" cut sketch "Sketch19" along normal through all both and the other way through all
equation "\"d13\" = d12"
equation "\"d91\" = 0.5 * d90"
properties part number "0008-10-007 Contra suport injectomat" material "ABS Plastic"
